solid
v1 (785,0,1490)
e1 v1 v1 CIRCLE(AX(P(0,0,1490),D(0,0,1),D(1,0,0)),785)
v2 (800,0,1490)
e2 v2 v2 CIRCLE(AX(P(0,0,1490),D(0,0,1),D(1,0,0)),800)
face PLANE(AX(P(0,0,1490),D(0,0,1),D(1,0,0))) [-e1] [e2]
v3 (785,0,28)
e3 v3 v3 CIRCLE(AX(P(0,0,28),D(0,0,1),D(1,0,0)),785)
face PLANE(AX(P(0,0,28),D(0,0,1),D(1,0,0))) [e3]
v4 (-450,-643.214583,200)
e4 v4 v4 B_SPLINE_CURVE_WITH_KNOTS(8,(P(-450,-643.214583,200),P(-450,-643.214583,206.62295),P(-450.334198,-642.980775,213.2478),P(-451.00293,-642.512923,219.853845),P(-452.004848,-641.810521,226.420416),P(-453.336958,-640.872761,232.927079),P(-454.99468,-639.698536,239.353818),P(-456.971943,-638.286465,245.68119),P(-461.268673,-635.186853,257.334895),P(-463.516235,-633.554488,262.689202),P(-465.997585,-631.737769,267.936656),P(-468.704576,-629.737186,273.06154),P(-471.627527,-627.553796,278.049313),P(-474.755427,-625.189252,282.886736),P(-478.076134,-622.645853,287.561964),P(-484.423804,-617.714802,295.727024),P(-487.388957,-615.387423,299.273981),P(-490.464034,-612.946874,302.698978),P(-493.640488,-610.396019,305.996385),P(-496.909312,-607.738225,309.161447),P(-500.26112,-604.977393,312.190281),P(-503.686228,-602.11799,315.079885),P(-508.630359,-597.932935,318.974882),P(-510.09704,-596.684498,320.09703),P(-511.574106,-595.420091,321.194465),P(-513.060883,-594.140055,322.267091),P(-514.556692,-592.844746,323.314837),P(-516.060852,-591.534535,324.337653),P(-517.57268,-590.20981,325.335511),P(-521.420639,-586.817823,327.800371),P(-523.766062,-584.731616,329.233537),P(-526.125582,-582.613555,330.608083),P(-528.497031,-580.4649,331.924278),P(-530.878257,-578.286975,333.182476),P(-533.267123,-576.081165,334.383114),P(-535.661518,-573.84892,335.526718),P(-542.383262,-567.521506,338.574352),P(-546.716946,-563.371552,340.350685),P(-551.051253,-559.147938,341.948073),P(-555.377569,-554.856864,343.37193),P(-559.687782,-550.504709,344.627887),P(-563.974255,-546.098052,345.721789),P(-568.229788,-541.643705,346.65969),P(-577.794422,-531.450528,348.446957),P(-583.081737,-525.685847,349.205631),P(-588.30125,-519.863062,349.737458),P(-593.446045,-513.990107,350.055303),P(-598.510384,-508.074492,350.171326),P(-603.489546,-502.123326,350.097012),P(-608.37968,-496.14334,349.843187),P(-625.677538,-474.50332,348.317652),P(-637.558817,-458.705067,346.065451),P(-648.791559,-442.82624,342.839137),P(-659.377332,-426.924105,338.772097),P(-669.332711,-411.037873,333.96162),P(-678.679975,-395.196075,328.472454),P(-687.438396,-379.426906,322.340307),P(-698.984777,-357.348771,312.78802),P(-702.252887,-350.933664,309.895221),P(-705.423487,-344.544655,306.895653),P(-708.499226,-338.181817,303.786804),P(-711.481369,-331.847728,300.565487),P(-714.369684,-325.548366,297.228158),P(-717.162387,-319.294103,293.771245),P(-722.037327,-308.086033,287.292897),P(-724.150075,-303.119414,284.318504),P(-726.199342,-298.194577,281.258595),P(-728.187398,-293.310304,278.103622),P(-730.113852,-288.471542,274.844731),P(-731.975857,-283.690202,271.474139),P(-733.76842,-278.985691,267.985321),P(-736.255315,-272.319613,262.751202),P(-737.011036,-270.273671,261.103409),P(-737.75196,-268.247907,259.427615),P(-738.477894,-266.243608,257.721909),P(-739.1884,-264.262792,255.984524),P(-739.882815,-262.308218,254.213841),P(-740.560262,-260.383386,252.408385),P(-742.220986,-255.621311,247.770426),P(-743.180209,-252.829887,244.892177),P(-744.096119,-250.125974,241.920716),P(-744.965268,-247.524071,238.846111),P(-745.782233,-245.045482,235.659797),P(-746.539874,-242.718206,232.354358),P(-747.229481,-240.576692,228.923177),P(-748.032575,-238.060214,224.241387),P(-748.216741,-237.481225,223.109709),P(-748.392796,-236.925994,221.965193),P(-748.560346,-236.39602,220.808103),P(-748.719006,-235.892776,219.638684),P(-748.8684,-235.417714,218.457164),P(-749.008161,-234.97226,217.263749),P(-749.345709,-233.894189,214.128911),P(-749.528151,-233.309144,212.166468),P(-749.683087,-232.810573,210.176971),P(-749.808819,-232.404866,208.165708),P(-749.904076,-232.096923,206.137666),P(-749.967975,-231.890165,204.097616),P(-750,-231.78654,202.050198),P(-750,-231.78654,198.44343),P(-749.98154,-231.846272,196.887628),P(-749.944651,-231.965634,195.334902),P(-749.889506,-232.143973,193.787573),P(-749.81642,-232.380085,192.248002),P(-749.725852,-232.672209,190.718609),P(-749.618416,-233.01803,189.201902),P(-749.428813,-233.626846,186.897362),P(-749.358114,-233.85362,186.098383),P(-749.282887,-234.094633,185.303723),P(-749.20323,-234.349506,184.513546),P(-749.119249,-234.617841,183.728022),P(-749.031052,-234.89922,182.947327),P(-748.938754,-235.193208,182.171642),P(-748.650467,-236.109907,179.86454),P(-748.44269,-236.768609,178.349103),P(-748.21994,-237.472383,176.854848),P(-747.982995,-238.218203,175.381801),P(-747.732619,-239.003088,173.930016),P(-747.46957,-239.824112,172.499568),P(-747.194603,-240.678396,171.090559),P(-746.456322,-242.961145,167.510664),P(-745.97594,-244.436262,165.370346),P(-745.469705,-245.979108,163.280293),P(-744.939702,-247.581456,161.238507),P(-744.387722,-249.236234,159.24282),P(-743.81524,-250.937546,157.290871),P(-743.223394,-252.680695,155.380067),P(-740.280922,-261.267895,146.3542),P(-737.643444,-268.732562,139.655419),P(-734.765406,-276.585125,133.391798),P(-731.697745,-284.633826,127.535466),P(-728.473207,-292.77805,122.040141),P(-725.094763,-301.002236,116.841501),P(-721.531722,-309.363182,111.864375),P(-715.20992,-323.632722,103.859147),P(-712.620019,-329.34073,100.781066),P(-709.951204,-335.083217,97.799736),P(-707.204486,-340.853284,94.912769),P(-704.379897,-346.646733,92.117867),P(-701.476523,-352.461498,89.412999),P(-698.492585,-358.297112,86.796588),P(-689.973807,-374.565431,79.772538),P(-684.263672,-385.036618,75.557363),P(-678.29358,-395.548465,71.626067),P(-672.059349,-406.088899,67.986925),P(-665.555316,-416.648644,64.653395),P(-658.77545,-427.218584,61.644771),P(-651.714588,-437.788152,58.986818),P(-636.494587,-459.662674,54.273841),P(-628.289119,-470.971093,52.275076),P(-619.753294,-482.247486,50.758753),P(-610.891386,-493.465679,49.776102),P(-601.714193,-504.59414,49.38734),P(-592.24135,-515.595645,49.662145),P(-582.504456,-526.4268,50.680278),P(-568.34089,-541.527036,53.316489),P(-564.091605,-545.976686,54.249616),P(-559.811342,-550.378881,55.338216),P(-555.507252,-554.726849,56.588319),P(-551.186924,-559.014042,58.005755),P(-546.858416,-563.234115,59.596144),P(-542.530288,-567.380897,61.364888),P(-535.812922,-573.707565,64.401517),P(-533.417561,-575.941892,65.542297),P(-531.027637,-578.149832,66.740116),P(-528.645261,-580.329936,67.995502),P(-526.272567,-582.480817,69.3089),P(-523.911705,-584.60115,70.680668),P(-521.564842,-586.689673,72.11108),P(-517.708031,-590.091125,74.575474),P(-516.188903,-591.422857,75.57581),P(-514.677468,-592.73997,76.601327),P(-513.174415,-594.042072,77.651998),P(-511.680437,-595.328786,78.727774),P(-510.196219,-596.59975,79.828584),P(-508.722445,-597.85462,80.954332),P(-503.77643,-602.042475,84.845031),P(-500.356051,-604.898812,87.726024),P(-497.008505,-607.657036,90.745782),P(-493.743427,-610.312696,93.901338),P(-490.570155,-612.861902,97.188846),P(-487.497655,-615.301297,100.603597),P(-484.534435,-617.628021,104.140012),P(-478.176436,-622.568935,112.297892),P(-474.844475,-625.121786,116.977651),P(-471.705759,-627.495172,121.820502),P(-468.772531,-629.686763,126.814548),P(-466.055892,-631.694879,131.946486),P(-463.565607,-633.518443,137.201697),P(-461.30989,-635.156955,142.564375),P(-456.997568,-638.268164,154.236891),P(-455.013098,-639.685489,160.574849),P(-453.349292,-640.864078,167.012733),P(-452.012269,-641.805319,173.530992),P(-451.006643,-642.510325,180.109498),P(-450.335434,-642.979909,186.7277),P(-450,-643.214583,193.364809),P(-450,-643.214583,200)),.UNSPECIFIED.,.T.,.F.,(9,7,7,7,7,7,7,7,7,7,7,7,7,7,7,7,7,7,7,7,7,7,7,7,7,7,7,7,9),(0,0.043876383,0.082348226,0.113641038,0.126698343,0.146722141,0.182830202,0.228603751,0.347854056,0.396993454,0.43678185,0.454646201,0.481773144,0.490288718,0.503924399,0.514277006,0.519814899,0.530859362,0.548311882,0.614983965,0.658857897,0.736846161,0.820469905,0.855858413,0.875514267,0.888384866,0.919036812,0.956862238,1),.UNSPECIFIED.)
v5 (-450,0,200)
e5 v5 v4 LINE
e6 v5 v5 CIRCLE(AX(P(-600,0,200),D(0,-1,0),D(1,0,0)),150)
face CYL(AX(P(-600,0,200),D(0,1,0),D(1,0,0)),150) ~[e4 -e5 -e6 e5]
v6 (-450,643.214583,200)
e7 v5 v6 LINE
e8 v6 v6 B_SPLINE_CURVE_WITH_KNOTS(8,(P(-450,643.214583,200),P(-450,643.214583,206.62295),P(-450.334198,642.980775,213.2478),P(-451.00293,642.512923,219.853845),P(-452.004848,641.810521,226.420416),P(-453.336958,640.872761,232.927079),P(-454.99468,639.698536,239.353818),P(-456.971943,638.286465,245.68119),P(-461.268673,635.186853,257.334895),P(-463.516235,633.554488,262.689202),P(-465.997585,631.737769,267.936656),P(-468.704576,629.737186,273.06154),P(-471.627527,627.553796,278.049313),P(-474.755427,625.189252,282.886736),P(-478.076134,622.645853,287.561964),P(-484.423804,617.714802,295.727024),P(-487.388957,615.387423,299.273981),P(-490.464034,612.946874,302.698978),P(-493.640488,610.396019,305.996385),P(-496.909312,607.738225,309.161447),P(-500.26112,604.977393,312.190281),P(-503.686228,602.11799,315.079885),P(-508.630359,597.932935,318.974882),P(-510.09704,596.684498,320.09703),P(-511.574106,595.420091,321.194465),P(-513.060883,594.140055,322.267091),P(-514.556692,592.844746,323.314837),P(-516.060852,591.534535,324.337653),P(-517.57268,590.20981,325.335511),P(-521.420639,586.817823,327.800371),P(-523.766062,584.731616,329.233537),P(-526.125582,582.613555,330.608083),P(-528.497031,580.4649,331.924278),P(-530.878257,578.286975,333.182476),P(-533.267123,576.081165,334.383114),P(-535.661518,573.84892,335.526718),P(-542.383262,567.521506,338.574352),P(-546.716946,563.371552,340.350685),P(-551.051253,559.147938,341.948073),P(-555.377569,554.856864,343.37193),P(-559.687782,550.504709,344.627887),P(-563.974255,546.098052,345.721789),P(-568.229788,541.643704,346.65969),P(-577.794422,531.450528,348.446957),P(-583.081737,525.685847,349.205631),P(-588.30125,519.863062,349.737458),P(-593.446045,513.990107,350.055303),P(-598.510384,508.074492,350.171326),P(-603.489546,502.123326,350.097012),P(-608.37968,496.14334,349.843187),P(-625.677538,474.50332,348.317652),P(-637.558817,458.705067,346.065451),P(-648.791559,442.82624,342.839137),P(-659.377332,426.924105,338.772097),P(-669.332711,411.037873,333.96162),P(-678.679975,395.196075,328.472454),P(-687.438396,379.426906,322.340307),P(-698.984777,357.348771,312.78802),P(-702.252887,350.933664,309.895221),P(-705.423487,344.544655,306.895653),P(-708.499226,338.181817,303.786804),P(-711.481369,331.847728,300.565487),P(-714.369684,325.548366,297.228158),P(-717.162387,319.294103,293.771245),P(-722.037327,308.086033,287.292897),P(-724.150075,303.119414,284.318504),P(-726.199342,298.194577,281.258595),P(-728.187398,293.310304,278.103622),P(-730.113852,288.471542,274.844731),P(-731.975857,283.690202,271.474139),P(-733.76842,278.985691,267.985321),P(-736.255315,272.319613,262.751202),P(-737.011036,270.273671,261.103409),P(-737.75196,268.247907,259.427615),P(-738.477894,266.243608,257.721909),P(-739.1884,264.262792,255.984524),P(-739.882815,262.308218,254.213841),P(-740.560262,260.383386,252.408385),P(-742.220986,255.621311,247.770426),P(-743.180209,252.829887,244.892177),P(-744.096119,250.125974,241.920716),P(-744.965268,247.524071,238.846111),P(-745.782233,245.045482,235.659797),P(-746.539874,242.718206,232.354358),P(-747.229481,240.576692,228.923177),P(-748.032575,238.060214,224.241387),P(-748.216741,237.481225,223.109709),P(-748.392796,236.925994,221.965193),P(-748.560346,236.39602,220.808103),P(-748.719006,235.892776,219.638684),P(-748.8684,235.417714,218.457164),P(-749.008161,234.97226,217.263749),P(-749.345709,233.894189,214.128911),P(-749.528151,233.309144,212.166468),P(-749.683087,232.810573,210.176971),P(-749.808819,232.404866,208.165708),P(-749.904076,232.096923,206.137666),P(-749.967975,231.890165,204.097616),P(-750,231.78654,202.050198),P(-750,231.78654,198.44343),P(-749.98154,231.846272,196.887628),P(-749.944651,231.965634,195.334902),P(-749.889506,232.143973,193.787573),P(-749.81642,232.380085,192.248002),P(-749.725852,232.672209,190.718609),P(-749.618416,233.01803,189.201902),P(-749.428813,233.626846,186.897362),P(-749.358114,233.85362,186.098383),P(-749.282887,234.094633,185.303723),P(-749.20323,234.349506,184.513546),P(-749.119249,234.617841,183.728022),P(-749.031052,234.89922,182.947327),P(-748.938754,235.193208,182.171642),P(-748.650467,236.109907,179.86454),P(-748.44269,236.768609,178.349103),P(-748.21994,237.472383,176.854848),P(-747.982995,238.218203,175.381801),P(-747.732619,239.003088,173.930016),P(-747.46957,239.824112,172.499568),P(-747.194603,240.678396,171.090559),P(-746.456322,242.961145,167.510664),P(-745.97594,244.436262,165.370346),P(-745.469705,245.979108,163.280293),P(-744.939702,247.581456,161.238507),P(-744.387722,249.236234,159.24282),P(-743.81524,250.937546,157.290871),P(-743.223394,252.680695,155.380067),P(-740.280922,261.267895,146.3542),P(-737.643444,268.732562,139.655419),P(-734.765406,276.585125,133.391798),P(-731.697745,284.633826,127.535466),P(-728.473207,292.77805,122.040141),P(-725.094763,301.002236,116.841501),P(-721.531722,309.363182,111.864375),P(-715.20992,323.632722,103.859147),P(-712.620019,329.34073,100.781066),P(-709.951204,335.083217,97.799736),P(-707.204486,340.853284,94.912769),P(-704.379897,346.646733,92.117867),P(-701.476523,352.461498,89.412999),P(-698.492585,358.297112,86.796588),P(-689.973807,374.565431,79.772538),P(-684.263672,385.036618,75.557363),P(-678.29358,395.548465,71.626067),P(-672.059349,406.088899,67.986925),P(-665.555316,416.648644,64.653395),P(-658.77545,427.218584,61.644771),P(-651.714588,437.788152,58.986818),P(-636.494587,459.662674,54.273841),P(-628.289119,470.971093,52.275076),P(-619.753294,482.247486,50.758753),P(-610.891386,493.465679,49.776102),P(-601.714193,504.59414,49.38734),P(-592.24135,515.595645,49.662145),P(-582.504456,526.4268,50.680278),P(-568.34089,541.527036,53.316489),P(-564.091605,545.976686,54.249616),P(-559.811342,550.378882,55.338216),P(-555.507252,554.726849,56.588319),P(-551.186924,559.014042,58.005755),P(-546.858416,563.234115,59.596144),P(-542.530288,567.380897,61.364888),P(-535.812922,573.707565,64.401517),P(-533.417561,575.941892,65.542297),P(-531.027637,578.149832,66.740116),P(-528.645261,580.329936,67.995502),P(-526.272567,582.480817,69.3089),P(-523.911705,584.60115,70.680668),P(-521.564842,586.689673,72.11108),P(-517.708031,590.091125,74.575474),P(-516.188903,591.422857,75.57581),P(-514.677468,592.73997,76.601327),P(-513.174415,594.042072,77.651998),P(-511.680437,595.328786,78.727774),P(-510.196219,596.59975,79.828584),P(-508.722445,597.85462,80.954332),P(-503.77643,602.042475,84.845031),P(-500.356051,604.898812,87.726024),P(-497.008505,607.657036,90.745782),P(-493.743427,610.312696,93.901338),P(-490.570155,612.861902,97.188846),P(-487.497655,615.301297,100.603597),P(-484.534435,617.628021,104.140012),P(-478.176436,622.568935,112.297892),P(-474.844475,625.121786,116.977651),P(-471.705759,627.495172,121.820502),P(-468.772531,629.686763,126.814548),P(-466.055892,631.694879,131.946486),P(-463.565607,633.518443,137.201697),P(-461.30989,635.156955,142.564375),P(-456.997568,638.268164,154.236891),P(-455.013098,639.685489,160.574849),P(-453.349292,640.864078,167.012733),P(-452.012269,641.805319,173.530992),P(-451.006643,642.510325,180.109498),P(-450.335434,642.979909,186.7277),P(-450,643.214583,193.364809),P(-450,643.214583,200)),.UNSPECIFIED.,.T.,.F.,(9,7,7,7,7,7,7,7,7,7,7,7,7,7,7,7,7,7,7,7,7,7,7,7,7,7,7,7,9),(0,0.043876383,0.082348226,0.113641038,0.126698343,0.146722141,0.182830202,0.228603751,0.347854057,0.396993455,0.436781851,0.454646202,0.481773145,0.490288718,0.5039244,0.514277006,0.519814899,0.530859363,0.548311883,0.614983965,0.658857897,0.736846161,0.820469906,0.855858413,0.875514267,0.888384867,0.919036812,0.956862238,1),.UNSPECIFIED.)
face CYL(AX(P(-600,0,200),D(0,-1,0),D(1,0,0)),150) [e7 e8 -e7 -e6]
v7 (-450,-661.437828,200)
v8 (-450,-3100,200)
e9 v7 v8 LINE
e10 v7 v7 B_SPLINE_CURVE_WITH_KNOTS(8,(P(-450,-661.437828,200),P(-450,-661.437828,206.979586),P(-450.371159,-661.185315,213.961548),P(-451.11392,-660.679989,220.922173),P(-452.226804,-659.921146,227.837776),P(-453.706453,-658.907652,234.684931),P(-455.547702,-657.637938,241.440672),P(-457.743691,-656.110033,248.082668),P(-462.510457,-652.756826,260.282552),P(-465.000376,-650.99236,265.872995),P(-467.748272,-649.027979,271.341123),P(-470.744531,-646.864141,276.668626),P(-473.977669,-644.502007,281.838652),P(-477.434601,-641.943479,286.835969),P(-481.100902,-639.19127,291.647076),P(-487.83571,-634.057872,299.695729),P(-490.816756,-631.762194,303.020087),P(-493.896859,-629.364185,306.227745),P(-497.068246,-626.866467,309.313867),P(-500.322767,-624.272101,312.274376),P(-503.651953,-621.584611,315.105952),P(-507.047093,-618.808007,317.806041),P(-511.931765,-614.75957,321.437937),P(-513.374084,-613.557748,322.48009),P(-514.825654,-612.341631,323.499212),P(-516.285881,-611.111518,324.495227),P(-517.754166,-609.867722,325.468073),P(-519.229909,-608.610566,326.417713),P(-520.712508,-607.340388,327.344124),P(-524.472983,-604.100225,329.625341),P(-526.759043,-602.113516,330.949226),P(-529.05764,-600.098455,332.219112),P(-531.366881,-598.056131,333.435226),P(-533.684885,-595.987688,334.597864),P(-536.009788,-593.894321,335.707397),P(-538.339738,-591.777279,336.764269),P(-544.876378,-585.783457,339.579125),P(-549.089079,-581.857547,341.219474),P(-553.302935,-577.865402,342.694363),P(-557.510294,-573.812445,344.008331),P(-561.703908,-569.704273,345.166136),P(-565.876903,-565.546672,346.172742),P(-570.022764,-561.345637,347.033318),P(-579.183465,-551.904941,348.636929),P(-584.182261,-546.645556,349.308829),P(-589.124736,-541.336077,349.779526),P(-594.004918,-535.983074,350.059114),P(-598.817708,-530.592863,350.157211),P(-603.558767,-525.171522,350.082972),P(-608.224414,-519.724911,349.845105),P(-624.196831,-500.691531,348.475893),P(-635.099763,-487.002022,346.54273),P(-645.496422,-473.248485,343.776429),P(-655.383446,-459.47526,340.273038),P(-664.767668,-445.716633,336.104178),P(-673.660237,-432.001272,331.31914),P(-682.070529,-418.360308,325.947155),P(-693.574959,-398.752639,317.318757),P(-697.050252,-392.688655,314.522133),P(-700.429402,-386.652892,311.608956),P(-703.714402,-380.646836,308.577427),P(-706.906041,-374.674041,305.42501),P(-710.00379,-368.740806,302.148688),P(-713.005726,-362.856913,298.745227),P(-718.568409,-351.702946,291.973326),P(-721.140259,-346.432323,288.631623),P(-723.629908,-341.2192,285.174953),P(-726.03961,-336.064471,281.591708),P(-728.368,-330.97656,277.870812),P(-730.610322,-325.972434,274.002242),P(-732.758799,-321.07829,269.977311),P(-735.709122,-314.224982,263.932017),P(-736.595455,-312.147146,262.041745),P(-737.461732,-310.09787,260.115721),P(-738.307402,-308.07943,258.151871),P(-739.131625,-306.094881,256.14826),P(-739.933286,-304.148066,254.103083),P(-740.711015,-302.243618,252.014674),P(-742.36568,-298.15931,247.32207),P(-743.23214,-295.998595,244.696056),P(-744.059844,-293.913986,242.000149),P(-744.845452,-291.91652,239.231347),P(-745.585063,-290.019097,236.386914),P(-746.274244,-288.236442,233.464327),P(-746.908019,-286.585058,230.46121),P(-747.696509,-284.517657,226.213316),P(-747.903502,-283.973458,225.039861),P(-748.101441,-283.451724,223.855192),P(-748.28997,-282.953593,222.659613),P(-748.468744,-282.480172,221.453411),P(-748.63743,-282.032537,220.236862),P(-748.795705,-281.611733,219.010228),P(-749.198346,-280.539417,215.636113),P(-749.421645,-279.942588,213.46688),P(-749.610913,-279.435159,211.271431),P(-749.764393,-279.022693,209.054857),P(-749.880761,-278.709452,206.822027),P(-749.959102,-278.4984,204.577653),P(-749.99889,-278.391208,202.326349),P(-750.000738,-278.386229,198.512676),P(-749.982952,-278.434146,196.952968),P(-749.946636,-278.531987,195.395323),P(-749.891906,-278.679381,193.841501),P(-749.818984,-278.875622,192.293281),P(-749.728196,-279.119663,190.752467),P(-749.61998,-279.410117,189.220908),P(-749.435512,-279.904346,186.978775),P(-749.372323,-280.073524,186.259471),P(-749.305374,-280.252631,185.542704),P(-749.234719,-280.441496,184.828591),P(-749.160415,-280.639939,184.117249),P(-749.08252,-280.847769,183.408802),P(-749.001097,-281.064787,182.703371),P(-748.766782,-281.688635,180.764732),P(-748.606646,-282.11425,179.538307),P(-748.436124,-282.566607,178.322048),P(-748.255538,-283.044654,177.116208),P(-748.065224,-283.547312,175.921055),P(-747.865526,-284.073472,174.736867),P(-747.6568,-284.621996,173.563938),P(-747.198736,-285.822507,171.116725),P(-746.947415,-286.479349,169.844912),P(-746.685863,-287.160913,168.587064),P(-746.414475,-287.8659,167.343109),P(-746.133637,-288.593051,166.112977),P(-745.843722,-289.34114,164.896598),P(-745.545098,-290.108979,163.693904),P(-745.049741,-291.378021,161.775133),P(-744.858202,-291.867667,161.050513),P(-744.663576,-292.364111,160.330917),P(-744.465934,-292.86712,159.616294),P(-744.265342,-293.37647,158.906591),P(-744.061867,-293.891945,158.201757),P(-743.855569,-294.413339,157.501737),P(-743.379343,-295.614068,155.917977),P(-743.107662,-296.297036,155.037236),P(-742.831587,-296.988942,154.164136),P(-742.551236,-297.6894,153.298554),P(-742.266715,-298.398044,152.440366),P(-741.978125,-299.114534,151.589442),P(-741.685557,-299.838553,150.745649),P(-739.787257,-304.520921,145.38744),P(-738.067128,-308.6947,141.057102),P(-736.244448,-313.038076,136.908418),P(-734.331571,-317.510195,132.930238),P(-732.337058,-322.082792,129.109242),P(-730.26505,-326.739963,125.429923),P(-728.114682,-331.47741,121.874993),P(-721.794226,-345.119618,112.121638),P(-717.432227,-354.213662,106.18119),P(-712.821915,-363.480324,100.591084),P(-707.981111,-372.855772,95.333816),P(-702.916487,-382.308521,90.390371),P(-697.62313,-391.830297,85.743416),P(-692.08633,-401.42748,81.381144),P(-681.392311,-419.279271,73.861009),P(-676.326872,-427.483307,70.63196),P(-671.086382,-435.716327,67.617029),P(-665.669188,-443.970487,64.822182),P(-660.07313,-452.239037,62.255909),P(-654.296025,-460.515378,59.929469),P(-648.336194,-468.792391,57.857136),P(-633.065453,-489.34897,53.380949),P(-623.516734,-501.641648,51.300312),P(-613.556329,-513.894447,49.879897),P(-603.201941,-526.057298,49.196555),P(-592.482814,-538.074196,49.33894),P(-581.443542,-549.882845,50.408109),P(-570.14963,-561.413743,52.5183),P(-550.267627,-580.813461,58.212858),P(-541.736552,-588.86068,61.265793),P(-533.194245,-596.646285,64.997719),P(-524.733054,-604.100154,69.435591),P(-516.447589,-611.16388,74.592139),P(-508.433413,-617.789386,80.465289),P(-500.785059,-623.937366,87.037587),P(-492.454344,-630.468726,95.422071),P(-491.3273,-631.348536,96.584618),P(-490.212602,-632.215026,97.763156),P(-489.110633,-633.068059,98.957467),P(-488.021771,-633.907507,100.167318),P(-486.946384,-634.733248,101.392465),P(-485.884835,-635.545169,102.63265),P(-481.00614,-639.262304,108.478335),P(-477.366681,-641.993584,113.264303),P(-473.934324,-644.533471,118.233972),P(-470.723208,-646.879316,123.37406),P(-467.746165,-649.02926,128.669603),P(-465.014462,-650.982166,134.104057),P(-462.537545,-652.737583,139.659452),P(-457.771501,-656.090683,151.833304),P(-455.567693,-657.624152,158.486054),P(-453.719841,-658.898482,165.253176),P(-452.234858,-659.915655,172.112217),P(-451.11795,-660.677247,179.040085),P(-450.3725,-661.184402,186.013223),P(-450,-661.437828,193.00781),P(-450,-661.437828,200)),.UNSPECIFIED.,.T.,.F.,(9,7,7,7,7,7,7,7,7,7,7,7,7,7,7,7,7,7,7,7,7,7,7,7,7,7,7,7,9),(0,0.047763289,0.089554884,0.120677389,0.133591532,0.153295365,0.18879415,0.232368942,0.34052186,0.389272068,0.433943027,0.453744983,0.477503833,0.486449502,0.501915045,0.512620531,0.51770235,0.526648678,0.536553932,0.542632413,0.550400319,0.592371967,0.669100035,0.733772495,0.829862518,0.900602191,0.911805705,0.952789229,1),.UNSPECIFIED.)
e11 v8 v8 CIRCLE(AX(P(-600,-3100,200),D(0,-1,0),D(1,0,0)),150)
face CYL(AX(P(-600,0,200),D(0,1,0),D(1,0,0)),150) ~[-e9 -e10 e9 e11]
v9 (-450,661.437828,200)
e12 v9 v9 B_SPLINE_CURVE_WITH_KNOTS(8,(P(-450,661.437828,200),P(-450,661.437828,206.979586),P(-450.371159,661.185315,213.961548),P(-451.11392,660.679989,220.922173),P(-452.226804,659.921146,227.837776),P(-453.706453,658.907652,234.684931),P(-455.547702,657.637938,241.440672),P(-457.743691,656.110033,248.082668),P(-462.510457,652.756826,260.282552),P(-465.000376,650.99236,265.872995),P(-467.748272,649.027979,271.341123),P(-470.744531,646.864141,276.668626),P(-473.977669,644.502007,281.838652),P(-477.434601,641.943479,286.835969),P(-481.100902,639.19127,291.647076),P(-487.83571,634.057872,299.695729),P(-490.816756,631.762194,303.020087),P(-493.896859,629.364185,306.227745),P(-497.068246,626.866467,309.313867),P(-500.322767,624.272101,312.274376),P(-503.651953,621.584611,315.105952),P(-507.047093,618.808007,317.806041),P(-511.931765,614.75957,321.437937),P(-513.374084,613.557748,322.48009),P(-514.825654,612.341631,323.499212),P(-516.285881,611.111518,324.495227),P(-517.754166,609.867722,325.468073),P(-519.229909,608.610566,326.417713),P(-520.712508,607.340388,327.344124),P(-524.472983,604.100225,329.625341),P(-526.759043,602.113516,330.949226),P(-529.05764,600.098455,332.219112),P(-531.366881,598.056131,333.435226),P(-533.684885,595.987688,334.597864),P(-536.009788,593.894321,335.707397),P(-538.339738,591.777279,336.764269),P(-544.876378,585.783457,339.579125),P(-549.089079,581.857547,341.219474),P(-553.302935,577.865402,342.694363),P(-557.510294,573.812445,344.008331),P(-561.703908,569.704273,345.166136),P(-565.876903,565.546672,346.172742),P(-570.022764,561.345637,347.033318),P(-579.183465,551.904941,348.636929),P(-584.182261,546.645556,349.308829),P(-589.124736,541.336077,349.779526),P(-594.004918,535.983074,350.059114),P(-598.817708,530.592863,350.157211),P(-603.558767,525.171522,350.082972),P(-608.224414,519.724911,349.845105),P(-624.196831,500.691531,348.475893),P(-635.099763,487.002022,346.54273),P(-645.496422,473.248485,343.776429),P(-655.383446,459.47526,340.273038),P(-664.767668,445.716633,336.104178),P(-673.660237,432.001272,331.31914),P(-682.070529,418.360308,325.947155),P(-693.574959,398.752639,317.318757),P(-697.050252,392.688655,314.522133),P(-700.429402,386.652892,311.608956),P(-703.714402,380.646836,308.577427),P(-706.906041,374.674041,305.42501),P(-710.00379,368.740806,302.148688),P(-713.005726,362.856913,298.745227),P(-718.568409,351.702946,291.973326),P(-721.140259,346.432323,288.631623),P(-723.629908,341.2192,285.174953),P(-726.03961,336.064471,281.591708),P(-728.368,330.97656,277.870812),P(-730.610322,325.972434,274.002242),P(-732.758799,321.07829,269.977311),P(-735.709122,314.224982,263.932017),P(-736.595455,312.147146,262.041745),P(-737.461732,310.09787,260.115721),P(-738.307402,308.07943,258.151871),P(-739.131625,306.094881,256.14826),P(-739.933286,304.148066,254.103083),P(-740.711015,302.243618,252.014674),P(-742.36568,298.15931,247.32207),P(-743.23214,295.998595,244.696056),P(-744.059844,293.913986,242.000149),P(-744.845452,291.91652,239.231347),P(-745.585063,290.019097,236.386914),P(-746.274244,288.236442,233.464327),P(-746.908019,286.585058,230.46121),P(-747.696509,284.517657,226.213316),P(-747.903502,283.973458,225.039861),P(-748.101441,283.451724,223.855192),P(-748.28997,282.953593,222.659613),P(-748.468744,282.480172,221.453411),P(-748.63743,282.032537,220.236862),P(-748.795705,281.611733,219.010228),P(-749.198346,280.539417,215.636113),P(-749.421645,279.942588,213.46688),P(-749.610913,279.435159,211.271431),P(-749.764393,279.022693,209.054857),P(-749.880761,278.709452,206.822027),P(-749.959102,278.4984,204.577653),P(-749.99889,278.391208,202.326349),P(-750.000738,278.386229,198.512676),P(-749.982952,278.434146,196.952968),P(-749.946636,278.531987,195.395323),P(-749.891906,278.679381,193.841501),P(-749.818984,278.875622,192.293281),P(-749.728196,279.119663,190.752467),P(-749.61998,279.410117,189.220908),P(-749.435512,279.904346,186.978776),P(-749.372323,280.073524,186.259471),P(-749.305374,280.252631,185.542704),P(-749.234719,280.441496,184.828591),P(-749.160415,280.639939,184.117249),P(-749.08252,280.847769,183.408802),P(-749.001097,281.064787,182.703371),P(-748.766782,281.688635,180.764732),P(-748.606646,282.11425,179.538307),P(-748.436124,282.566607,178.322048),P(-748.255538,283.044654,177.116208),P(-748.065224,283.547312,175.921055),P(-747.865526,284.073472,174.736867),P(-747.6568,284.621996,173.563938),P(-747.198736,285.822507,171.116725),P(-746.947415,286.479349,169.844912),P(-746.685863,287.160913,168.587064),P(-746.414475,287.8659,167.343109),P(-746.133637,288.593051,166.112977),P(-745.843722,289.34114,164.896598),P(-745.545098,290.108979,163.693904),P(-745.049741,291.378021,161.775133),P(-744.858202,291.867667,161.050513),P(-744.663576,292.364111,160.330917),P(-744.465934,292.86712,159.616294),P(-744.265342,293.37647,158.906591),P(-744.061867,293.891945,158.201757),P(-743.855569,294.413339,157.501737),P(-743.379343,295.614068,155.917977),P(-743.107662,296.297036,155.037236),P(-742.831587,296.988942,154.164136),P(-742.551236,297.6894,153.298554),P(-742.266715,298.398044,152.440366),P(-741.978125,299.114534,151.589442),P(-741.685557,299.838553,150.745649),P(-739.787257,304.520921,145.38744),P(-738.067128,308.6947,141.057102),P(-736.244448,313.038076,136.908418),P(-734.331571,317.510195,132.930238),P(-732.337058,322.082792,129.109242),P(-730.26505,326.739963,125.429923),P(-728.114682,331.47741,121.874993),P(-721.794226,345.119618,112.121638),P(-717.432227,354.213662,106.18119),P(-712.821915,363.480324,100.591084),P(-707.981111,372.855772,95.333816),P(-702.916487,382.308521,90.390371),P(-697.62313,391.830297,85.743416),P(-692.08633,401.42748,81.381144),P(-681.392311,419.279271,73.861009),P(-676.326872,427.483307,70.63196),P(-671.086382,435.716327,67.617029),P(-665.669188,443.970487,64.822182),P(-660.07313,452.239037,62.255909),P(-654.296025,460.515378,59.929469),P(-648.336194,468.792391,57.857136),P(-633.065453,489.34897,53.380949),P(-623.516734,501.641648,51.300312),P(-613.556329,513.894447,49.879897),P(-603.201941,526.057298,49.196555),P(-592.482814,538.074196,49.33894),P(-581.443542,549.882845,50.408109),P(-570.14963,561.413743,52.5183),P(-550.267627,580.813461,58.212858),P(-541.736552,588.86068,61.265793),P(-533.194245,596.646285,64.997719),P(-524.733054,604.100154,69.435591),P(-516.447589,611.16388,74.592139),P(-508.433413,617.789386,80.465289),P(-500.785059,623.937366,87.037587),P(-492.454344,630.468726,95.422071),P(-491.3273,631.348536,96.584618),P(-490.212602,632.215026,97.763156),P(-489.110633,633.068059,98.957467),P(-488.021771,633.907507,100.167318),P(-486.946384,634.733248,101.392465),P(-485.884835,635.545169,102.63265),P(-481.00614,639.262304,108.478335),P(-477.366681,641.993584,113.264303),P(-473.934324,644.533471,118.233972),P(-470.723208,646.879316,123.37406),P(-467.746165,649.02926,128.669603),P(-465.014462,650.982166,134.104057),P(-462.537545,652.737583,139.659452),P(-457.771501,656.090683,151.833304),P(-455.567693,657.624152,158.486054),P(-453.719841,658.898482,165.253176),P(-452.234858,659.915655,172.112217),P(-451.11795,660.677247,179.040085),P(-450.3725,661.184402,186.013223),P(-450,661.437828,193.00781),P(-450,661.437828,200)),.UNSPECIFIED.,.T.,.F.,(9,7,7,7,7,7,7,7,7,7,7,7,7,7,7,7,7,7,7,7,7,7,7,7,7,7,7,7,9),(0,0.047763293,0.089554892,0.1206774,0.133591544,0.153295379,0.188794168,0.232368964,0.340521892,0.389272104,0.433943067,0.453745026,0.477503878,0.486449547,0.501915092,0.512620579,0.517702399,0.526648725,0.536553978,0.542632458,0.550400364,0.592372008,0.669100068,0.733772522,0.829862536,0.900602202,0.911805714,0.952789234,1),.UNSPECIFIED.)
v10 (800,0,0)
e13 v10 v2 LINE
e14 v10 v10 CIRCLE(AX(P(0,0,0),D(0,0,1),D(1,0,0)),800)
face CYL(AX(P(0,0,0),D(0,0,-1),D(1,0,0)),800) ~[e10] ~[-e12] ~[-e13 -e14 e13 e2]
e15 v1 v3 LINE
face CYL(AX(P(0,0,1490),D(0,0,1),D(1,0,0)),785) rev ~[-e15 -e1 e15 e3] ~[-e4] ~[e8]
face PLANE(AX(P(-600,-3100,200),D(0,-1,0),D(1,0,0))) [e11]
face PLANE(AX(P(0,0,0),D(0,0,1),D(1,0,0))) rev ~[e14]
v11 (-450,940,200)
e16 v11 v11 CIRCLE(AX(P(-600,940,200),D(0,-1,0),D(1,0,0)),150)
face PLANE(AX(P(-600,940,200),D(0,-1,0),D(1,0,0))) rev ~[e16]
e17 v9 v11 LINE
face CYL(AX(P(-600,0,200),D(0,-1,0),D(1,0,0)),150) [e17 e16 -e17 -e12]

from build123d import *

# Parameters (mm, degrees)
F0_R          = 800
F1_DEPTH      = 1490
F2_R          = 785
F3_DEPTH      = 1462
F4_R          = 150
F5_DEPTH      = 3100
F5_DEPTH_BACK = 940


with BuildPart() as f1:
    # F0 (on Top) → F1 (new body)
    with BuildSketch(Plane.XY):
        Circle(F0_R)
    extrude(amount=F1_DEPTH)

    # F2 (on face) → F3 (cut)
    with BuildSketch(Plane.XY.offset(1490)):
        Circle(F2_R)
    extrude(amount=-F3_DEPTH, mode=Mode.SUBTRACT)

    # F4 (on Front) → F5 (join, two sides)
    with BuildSketch(Plane.XZ) as f5_sk:
        with Locations((-600, 200)):
            Circle(F4_R)
    extrude(amount=F5_DEPTH)
    extrude(f5_sk.sketch, amount=-F5_DEPTH_BACK)


solid = f1.part
